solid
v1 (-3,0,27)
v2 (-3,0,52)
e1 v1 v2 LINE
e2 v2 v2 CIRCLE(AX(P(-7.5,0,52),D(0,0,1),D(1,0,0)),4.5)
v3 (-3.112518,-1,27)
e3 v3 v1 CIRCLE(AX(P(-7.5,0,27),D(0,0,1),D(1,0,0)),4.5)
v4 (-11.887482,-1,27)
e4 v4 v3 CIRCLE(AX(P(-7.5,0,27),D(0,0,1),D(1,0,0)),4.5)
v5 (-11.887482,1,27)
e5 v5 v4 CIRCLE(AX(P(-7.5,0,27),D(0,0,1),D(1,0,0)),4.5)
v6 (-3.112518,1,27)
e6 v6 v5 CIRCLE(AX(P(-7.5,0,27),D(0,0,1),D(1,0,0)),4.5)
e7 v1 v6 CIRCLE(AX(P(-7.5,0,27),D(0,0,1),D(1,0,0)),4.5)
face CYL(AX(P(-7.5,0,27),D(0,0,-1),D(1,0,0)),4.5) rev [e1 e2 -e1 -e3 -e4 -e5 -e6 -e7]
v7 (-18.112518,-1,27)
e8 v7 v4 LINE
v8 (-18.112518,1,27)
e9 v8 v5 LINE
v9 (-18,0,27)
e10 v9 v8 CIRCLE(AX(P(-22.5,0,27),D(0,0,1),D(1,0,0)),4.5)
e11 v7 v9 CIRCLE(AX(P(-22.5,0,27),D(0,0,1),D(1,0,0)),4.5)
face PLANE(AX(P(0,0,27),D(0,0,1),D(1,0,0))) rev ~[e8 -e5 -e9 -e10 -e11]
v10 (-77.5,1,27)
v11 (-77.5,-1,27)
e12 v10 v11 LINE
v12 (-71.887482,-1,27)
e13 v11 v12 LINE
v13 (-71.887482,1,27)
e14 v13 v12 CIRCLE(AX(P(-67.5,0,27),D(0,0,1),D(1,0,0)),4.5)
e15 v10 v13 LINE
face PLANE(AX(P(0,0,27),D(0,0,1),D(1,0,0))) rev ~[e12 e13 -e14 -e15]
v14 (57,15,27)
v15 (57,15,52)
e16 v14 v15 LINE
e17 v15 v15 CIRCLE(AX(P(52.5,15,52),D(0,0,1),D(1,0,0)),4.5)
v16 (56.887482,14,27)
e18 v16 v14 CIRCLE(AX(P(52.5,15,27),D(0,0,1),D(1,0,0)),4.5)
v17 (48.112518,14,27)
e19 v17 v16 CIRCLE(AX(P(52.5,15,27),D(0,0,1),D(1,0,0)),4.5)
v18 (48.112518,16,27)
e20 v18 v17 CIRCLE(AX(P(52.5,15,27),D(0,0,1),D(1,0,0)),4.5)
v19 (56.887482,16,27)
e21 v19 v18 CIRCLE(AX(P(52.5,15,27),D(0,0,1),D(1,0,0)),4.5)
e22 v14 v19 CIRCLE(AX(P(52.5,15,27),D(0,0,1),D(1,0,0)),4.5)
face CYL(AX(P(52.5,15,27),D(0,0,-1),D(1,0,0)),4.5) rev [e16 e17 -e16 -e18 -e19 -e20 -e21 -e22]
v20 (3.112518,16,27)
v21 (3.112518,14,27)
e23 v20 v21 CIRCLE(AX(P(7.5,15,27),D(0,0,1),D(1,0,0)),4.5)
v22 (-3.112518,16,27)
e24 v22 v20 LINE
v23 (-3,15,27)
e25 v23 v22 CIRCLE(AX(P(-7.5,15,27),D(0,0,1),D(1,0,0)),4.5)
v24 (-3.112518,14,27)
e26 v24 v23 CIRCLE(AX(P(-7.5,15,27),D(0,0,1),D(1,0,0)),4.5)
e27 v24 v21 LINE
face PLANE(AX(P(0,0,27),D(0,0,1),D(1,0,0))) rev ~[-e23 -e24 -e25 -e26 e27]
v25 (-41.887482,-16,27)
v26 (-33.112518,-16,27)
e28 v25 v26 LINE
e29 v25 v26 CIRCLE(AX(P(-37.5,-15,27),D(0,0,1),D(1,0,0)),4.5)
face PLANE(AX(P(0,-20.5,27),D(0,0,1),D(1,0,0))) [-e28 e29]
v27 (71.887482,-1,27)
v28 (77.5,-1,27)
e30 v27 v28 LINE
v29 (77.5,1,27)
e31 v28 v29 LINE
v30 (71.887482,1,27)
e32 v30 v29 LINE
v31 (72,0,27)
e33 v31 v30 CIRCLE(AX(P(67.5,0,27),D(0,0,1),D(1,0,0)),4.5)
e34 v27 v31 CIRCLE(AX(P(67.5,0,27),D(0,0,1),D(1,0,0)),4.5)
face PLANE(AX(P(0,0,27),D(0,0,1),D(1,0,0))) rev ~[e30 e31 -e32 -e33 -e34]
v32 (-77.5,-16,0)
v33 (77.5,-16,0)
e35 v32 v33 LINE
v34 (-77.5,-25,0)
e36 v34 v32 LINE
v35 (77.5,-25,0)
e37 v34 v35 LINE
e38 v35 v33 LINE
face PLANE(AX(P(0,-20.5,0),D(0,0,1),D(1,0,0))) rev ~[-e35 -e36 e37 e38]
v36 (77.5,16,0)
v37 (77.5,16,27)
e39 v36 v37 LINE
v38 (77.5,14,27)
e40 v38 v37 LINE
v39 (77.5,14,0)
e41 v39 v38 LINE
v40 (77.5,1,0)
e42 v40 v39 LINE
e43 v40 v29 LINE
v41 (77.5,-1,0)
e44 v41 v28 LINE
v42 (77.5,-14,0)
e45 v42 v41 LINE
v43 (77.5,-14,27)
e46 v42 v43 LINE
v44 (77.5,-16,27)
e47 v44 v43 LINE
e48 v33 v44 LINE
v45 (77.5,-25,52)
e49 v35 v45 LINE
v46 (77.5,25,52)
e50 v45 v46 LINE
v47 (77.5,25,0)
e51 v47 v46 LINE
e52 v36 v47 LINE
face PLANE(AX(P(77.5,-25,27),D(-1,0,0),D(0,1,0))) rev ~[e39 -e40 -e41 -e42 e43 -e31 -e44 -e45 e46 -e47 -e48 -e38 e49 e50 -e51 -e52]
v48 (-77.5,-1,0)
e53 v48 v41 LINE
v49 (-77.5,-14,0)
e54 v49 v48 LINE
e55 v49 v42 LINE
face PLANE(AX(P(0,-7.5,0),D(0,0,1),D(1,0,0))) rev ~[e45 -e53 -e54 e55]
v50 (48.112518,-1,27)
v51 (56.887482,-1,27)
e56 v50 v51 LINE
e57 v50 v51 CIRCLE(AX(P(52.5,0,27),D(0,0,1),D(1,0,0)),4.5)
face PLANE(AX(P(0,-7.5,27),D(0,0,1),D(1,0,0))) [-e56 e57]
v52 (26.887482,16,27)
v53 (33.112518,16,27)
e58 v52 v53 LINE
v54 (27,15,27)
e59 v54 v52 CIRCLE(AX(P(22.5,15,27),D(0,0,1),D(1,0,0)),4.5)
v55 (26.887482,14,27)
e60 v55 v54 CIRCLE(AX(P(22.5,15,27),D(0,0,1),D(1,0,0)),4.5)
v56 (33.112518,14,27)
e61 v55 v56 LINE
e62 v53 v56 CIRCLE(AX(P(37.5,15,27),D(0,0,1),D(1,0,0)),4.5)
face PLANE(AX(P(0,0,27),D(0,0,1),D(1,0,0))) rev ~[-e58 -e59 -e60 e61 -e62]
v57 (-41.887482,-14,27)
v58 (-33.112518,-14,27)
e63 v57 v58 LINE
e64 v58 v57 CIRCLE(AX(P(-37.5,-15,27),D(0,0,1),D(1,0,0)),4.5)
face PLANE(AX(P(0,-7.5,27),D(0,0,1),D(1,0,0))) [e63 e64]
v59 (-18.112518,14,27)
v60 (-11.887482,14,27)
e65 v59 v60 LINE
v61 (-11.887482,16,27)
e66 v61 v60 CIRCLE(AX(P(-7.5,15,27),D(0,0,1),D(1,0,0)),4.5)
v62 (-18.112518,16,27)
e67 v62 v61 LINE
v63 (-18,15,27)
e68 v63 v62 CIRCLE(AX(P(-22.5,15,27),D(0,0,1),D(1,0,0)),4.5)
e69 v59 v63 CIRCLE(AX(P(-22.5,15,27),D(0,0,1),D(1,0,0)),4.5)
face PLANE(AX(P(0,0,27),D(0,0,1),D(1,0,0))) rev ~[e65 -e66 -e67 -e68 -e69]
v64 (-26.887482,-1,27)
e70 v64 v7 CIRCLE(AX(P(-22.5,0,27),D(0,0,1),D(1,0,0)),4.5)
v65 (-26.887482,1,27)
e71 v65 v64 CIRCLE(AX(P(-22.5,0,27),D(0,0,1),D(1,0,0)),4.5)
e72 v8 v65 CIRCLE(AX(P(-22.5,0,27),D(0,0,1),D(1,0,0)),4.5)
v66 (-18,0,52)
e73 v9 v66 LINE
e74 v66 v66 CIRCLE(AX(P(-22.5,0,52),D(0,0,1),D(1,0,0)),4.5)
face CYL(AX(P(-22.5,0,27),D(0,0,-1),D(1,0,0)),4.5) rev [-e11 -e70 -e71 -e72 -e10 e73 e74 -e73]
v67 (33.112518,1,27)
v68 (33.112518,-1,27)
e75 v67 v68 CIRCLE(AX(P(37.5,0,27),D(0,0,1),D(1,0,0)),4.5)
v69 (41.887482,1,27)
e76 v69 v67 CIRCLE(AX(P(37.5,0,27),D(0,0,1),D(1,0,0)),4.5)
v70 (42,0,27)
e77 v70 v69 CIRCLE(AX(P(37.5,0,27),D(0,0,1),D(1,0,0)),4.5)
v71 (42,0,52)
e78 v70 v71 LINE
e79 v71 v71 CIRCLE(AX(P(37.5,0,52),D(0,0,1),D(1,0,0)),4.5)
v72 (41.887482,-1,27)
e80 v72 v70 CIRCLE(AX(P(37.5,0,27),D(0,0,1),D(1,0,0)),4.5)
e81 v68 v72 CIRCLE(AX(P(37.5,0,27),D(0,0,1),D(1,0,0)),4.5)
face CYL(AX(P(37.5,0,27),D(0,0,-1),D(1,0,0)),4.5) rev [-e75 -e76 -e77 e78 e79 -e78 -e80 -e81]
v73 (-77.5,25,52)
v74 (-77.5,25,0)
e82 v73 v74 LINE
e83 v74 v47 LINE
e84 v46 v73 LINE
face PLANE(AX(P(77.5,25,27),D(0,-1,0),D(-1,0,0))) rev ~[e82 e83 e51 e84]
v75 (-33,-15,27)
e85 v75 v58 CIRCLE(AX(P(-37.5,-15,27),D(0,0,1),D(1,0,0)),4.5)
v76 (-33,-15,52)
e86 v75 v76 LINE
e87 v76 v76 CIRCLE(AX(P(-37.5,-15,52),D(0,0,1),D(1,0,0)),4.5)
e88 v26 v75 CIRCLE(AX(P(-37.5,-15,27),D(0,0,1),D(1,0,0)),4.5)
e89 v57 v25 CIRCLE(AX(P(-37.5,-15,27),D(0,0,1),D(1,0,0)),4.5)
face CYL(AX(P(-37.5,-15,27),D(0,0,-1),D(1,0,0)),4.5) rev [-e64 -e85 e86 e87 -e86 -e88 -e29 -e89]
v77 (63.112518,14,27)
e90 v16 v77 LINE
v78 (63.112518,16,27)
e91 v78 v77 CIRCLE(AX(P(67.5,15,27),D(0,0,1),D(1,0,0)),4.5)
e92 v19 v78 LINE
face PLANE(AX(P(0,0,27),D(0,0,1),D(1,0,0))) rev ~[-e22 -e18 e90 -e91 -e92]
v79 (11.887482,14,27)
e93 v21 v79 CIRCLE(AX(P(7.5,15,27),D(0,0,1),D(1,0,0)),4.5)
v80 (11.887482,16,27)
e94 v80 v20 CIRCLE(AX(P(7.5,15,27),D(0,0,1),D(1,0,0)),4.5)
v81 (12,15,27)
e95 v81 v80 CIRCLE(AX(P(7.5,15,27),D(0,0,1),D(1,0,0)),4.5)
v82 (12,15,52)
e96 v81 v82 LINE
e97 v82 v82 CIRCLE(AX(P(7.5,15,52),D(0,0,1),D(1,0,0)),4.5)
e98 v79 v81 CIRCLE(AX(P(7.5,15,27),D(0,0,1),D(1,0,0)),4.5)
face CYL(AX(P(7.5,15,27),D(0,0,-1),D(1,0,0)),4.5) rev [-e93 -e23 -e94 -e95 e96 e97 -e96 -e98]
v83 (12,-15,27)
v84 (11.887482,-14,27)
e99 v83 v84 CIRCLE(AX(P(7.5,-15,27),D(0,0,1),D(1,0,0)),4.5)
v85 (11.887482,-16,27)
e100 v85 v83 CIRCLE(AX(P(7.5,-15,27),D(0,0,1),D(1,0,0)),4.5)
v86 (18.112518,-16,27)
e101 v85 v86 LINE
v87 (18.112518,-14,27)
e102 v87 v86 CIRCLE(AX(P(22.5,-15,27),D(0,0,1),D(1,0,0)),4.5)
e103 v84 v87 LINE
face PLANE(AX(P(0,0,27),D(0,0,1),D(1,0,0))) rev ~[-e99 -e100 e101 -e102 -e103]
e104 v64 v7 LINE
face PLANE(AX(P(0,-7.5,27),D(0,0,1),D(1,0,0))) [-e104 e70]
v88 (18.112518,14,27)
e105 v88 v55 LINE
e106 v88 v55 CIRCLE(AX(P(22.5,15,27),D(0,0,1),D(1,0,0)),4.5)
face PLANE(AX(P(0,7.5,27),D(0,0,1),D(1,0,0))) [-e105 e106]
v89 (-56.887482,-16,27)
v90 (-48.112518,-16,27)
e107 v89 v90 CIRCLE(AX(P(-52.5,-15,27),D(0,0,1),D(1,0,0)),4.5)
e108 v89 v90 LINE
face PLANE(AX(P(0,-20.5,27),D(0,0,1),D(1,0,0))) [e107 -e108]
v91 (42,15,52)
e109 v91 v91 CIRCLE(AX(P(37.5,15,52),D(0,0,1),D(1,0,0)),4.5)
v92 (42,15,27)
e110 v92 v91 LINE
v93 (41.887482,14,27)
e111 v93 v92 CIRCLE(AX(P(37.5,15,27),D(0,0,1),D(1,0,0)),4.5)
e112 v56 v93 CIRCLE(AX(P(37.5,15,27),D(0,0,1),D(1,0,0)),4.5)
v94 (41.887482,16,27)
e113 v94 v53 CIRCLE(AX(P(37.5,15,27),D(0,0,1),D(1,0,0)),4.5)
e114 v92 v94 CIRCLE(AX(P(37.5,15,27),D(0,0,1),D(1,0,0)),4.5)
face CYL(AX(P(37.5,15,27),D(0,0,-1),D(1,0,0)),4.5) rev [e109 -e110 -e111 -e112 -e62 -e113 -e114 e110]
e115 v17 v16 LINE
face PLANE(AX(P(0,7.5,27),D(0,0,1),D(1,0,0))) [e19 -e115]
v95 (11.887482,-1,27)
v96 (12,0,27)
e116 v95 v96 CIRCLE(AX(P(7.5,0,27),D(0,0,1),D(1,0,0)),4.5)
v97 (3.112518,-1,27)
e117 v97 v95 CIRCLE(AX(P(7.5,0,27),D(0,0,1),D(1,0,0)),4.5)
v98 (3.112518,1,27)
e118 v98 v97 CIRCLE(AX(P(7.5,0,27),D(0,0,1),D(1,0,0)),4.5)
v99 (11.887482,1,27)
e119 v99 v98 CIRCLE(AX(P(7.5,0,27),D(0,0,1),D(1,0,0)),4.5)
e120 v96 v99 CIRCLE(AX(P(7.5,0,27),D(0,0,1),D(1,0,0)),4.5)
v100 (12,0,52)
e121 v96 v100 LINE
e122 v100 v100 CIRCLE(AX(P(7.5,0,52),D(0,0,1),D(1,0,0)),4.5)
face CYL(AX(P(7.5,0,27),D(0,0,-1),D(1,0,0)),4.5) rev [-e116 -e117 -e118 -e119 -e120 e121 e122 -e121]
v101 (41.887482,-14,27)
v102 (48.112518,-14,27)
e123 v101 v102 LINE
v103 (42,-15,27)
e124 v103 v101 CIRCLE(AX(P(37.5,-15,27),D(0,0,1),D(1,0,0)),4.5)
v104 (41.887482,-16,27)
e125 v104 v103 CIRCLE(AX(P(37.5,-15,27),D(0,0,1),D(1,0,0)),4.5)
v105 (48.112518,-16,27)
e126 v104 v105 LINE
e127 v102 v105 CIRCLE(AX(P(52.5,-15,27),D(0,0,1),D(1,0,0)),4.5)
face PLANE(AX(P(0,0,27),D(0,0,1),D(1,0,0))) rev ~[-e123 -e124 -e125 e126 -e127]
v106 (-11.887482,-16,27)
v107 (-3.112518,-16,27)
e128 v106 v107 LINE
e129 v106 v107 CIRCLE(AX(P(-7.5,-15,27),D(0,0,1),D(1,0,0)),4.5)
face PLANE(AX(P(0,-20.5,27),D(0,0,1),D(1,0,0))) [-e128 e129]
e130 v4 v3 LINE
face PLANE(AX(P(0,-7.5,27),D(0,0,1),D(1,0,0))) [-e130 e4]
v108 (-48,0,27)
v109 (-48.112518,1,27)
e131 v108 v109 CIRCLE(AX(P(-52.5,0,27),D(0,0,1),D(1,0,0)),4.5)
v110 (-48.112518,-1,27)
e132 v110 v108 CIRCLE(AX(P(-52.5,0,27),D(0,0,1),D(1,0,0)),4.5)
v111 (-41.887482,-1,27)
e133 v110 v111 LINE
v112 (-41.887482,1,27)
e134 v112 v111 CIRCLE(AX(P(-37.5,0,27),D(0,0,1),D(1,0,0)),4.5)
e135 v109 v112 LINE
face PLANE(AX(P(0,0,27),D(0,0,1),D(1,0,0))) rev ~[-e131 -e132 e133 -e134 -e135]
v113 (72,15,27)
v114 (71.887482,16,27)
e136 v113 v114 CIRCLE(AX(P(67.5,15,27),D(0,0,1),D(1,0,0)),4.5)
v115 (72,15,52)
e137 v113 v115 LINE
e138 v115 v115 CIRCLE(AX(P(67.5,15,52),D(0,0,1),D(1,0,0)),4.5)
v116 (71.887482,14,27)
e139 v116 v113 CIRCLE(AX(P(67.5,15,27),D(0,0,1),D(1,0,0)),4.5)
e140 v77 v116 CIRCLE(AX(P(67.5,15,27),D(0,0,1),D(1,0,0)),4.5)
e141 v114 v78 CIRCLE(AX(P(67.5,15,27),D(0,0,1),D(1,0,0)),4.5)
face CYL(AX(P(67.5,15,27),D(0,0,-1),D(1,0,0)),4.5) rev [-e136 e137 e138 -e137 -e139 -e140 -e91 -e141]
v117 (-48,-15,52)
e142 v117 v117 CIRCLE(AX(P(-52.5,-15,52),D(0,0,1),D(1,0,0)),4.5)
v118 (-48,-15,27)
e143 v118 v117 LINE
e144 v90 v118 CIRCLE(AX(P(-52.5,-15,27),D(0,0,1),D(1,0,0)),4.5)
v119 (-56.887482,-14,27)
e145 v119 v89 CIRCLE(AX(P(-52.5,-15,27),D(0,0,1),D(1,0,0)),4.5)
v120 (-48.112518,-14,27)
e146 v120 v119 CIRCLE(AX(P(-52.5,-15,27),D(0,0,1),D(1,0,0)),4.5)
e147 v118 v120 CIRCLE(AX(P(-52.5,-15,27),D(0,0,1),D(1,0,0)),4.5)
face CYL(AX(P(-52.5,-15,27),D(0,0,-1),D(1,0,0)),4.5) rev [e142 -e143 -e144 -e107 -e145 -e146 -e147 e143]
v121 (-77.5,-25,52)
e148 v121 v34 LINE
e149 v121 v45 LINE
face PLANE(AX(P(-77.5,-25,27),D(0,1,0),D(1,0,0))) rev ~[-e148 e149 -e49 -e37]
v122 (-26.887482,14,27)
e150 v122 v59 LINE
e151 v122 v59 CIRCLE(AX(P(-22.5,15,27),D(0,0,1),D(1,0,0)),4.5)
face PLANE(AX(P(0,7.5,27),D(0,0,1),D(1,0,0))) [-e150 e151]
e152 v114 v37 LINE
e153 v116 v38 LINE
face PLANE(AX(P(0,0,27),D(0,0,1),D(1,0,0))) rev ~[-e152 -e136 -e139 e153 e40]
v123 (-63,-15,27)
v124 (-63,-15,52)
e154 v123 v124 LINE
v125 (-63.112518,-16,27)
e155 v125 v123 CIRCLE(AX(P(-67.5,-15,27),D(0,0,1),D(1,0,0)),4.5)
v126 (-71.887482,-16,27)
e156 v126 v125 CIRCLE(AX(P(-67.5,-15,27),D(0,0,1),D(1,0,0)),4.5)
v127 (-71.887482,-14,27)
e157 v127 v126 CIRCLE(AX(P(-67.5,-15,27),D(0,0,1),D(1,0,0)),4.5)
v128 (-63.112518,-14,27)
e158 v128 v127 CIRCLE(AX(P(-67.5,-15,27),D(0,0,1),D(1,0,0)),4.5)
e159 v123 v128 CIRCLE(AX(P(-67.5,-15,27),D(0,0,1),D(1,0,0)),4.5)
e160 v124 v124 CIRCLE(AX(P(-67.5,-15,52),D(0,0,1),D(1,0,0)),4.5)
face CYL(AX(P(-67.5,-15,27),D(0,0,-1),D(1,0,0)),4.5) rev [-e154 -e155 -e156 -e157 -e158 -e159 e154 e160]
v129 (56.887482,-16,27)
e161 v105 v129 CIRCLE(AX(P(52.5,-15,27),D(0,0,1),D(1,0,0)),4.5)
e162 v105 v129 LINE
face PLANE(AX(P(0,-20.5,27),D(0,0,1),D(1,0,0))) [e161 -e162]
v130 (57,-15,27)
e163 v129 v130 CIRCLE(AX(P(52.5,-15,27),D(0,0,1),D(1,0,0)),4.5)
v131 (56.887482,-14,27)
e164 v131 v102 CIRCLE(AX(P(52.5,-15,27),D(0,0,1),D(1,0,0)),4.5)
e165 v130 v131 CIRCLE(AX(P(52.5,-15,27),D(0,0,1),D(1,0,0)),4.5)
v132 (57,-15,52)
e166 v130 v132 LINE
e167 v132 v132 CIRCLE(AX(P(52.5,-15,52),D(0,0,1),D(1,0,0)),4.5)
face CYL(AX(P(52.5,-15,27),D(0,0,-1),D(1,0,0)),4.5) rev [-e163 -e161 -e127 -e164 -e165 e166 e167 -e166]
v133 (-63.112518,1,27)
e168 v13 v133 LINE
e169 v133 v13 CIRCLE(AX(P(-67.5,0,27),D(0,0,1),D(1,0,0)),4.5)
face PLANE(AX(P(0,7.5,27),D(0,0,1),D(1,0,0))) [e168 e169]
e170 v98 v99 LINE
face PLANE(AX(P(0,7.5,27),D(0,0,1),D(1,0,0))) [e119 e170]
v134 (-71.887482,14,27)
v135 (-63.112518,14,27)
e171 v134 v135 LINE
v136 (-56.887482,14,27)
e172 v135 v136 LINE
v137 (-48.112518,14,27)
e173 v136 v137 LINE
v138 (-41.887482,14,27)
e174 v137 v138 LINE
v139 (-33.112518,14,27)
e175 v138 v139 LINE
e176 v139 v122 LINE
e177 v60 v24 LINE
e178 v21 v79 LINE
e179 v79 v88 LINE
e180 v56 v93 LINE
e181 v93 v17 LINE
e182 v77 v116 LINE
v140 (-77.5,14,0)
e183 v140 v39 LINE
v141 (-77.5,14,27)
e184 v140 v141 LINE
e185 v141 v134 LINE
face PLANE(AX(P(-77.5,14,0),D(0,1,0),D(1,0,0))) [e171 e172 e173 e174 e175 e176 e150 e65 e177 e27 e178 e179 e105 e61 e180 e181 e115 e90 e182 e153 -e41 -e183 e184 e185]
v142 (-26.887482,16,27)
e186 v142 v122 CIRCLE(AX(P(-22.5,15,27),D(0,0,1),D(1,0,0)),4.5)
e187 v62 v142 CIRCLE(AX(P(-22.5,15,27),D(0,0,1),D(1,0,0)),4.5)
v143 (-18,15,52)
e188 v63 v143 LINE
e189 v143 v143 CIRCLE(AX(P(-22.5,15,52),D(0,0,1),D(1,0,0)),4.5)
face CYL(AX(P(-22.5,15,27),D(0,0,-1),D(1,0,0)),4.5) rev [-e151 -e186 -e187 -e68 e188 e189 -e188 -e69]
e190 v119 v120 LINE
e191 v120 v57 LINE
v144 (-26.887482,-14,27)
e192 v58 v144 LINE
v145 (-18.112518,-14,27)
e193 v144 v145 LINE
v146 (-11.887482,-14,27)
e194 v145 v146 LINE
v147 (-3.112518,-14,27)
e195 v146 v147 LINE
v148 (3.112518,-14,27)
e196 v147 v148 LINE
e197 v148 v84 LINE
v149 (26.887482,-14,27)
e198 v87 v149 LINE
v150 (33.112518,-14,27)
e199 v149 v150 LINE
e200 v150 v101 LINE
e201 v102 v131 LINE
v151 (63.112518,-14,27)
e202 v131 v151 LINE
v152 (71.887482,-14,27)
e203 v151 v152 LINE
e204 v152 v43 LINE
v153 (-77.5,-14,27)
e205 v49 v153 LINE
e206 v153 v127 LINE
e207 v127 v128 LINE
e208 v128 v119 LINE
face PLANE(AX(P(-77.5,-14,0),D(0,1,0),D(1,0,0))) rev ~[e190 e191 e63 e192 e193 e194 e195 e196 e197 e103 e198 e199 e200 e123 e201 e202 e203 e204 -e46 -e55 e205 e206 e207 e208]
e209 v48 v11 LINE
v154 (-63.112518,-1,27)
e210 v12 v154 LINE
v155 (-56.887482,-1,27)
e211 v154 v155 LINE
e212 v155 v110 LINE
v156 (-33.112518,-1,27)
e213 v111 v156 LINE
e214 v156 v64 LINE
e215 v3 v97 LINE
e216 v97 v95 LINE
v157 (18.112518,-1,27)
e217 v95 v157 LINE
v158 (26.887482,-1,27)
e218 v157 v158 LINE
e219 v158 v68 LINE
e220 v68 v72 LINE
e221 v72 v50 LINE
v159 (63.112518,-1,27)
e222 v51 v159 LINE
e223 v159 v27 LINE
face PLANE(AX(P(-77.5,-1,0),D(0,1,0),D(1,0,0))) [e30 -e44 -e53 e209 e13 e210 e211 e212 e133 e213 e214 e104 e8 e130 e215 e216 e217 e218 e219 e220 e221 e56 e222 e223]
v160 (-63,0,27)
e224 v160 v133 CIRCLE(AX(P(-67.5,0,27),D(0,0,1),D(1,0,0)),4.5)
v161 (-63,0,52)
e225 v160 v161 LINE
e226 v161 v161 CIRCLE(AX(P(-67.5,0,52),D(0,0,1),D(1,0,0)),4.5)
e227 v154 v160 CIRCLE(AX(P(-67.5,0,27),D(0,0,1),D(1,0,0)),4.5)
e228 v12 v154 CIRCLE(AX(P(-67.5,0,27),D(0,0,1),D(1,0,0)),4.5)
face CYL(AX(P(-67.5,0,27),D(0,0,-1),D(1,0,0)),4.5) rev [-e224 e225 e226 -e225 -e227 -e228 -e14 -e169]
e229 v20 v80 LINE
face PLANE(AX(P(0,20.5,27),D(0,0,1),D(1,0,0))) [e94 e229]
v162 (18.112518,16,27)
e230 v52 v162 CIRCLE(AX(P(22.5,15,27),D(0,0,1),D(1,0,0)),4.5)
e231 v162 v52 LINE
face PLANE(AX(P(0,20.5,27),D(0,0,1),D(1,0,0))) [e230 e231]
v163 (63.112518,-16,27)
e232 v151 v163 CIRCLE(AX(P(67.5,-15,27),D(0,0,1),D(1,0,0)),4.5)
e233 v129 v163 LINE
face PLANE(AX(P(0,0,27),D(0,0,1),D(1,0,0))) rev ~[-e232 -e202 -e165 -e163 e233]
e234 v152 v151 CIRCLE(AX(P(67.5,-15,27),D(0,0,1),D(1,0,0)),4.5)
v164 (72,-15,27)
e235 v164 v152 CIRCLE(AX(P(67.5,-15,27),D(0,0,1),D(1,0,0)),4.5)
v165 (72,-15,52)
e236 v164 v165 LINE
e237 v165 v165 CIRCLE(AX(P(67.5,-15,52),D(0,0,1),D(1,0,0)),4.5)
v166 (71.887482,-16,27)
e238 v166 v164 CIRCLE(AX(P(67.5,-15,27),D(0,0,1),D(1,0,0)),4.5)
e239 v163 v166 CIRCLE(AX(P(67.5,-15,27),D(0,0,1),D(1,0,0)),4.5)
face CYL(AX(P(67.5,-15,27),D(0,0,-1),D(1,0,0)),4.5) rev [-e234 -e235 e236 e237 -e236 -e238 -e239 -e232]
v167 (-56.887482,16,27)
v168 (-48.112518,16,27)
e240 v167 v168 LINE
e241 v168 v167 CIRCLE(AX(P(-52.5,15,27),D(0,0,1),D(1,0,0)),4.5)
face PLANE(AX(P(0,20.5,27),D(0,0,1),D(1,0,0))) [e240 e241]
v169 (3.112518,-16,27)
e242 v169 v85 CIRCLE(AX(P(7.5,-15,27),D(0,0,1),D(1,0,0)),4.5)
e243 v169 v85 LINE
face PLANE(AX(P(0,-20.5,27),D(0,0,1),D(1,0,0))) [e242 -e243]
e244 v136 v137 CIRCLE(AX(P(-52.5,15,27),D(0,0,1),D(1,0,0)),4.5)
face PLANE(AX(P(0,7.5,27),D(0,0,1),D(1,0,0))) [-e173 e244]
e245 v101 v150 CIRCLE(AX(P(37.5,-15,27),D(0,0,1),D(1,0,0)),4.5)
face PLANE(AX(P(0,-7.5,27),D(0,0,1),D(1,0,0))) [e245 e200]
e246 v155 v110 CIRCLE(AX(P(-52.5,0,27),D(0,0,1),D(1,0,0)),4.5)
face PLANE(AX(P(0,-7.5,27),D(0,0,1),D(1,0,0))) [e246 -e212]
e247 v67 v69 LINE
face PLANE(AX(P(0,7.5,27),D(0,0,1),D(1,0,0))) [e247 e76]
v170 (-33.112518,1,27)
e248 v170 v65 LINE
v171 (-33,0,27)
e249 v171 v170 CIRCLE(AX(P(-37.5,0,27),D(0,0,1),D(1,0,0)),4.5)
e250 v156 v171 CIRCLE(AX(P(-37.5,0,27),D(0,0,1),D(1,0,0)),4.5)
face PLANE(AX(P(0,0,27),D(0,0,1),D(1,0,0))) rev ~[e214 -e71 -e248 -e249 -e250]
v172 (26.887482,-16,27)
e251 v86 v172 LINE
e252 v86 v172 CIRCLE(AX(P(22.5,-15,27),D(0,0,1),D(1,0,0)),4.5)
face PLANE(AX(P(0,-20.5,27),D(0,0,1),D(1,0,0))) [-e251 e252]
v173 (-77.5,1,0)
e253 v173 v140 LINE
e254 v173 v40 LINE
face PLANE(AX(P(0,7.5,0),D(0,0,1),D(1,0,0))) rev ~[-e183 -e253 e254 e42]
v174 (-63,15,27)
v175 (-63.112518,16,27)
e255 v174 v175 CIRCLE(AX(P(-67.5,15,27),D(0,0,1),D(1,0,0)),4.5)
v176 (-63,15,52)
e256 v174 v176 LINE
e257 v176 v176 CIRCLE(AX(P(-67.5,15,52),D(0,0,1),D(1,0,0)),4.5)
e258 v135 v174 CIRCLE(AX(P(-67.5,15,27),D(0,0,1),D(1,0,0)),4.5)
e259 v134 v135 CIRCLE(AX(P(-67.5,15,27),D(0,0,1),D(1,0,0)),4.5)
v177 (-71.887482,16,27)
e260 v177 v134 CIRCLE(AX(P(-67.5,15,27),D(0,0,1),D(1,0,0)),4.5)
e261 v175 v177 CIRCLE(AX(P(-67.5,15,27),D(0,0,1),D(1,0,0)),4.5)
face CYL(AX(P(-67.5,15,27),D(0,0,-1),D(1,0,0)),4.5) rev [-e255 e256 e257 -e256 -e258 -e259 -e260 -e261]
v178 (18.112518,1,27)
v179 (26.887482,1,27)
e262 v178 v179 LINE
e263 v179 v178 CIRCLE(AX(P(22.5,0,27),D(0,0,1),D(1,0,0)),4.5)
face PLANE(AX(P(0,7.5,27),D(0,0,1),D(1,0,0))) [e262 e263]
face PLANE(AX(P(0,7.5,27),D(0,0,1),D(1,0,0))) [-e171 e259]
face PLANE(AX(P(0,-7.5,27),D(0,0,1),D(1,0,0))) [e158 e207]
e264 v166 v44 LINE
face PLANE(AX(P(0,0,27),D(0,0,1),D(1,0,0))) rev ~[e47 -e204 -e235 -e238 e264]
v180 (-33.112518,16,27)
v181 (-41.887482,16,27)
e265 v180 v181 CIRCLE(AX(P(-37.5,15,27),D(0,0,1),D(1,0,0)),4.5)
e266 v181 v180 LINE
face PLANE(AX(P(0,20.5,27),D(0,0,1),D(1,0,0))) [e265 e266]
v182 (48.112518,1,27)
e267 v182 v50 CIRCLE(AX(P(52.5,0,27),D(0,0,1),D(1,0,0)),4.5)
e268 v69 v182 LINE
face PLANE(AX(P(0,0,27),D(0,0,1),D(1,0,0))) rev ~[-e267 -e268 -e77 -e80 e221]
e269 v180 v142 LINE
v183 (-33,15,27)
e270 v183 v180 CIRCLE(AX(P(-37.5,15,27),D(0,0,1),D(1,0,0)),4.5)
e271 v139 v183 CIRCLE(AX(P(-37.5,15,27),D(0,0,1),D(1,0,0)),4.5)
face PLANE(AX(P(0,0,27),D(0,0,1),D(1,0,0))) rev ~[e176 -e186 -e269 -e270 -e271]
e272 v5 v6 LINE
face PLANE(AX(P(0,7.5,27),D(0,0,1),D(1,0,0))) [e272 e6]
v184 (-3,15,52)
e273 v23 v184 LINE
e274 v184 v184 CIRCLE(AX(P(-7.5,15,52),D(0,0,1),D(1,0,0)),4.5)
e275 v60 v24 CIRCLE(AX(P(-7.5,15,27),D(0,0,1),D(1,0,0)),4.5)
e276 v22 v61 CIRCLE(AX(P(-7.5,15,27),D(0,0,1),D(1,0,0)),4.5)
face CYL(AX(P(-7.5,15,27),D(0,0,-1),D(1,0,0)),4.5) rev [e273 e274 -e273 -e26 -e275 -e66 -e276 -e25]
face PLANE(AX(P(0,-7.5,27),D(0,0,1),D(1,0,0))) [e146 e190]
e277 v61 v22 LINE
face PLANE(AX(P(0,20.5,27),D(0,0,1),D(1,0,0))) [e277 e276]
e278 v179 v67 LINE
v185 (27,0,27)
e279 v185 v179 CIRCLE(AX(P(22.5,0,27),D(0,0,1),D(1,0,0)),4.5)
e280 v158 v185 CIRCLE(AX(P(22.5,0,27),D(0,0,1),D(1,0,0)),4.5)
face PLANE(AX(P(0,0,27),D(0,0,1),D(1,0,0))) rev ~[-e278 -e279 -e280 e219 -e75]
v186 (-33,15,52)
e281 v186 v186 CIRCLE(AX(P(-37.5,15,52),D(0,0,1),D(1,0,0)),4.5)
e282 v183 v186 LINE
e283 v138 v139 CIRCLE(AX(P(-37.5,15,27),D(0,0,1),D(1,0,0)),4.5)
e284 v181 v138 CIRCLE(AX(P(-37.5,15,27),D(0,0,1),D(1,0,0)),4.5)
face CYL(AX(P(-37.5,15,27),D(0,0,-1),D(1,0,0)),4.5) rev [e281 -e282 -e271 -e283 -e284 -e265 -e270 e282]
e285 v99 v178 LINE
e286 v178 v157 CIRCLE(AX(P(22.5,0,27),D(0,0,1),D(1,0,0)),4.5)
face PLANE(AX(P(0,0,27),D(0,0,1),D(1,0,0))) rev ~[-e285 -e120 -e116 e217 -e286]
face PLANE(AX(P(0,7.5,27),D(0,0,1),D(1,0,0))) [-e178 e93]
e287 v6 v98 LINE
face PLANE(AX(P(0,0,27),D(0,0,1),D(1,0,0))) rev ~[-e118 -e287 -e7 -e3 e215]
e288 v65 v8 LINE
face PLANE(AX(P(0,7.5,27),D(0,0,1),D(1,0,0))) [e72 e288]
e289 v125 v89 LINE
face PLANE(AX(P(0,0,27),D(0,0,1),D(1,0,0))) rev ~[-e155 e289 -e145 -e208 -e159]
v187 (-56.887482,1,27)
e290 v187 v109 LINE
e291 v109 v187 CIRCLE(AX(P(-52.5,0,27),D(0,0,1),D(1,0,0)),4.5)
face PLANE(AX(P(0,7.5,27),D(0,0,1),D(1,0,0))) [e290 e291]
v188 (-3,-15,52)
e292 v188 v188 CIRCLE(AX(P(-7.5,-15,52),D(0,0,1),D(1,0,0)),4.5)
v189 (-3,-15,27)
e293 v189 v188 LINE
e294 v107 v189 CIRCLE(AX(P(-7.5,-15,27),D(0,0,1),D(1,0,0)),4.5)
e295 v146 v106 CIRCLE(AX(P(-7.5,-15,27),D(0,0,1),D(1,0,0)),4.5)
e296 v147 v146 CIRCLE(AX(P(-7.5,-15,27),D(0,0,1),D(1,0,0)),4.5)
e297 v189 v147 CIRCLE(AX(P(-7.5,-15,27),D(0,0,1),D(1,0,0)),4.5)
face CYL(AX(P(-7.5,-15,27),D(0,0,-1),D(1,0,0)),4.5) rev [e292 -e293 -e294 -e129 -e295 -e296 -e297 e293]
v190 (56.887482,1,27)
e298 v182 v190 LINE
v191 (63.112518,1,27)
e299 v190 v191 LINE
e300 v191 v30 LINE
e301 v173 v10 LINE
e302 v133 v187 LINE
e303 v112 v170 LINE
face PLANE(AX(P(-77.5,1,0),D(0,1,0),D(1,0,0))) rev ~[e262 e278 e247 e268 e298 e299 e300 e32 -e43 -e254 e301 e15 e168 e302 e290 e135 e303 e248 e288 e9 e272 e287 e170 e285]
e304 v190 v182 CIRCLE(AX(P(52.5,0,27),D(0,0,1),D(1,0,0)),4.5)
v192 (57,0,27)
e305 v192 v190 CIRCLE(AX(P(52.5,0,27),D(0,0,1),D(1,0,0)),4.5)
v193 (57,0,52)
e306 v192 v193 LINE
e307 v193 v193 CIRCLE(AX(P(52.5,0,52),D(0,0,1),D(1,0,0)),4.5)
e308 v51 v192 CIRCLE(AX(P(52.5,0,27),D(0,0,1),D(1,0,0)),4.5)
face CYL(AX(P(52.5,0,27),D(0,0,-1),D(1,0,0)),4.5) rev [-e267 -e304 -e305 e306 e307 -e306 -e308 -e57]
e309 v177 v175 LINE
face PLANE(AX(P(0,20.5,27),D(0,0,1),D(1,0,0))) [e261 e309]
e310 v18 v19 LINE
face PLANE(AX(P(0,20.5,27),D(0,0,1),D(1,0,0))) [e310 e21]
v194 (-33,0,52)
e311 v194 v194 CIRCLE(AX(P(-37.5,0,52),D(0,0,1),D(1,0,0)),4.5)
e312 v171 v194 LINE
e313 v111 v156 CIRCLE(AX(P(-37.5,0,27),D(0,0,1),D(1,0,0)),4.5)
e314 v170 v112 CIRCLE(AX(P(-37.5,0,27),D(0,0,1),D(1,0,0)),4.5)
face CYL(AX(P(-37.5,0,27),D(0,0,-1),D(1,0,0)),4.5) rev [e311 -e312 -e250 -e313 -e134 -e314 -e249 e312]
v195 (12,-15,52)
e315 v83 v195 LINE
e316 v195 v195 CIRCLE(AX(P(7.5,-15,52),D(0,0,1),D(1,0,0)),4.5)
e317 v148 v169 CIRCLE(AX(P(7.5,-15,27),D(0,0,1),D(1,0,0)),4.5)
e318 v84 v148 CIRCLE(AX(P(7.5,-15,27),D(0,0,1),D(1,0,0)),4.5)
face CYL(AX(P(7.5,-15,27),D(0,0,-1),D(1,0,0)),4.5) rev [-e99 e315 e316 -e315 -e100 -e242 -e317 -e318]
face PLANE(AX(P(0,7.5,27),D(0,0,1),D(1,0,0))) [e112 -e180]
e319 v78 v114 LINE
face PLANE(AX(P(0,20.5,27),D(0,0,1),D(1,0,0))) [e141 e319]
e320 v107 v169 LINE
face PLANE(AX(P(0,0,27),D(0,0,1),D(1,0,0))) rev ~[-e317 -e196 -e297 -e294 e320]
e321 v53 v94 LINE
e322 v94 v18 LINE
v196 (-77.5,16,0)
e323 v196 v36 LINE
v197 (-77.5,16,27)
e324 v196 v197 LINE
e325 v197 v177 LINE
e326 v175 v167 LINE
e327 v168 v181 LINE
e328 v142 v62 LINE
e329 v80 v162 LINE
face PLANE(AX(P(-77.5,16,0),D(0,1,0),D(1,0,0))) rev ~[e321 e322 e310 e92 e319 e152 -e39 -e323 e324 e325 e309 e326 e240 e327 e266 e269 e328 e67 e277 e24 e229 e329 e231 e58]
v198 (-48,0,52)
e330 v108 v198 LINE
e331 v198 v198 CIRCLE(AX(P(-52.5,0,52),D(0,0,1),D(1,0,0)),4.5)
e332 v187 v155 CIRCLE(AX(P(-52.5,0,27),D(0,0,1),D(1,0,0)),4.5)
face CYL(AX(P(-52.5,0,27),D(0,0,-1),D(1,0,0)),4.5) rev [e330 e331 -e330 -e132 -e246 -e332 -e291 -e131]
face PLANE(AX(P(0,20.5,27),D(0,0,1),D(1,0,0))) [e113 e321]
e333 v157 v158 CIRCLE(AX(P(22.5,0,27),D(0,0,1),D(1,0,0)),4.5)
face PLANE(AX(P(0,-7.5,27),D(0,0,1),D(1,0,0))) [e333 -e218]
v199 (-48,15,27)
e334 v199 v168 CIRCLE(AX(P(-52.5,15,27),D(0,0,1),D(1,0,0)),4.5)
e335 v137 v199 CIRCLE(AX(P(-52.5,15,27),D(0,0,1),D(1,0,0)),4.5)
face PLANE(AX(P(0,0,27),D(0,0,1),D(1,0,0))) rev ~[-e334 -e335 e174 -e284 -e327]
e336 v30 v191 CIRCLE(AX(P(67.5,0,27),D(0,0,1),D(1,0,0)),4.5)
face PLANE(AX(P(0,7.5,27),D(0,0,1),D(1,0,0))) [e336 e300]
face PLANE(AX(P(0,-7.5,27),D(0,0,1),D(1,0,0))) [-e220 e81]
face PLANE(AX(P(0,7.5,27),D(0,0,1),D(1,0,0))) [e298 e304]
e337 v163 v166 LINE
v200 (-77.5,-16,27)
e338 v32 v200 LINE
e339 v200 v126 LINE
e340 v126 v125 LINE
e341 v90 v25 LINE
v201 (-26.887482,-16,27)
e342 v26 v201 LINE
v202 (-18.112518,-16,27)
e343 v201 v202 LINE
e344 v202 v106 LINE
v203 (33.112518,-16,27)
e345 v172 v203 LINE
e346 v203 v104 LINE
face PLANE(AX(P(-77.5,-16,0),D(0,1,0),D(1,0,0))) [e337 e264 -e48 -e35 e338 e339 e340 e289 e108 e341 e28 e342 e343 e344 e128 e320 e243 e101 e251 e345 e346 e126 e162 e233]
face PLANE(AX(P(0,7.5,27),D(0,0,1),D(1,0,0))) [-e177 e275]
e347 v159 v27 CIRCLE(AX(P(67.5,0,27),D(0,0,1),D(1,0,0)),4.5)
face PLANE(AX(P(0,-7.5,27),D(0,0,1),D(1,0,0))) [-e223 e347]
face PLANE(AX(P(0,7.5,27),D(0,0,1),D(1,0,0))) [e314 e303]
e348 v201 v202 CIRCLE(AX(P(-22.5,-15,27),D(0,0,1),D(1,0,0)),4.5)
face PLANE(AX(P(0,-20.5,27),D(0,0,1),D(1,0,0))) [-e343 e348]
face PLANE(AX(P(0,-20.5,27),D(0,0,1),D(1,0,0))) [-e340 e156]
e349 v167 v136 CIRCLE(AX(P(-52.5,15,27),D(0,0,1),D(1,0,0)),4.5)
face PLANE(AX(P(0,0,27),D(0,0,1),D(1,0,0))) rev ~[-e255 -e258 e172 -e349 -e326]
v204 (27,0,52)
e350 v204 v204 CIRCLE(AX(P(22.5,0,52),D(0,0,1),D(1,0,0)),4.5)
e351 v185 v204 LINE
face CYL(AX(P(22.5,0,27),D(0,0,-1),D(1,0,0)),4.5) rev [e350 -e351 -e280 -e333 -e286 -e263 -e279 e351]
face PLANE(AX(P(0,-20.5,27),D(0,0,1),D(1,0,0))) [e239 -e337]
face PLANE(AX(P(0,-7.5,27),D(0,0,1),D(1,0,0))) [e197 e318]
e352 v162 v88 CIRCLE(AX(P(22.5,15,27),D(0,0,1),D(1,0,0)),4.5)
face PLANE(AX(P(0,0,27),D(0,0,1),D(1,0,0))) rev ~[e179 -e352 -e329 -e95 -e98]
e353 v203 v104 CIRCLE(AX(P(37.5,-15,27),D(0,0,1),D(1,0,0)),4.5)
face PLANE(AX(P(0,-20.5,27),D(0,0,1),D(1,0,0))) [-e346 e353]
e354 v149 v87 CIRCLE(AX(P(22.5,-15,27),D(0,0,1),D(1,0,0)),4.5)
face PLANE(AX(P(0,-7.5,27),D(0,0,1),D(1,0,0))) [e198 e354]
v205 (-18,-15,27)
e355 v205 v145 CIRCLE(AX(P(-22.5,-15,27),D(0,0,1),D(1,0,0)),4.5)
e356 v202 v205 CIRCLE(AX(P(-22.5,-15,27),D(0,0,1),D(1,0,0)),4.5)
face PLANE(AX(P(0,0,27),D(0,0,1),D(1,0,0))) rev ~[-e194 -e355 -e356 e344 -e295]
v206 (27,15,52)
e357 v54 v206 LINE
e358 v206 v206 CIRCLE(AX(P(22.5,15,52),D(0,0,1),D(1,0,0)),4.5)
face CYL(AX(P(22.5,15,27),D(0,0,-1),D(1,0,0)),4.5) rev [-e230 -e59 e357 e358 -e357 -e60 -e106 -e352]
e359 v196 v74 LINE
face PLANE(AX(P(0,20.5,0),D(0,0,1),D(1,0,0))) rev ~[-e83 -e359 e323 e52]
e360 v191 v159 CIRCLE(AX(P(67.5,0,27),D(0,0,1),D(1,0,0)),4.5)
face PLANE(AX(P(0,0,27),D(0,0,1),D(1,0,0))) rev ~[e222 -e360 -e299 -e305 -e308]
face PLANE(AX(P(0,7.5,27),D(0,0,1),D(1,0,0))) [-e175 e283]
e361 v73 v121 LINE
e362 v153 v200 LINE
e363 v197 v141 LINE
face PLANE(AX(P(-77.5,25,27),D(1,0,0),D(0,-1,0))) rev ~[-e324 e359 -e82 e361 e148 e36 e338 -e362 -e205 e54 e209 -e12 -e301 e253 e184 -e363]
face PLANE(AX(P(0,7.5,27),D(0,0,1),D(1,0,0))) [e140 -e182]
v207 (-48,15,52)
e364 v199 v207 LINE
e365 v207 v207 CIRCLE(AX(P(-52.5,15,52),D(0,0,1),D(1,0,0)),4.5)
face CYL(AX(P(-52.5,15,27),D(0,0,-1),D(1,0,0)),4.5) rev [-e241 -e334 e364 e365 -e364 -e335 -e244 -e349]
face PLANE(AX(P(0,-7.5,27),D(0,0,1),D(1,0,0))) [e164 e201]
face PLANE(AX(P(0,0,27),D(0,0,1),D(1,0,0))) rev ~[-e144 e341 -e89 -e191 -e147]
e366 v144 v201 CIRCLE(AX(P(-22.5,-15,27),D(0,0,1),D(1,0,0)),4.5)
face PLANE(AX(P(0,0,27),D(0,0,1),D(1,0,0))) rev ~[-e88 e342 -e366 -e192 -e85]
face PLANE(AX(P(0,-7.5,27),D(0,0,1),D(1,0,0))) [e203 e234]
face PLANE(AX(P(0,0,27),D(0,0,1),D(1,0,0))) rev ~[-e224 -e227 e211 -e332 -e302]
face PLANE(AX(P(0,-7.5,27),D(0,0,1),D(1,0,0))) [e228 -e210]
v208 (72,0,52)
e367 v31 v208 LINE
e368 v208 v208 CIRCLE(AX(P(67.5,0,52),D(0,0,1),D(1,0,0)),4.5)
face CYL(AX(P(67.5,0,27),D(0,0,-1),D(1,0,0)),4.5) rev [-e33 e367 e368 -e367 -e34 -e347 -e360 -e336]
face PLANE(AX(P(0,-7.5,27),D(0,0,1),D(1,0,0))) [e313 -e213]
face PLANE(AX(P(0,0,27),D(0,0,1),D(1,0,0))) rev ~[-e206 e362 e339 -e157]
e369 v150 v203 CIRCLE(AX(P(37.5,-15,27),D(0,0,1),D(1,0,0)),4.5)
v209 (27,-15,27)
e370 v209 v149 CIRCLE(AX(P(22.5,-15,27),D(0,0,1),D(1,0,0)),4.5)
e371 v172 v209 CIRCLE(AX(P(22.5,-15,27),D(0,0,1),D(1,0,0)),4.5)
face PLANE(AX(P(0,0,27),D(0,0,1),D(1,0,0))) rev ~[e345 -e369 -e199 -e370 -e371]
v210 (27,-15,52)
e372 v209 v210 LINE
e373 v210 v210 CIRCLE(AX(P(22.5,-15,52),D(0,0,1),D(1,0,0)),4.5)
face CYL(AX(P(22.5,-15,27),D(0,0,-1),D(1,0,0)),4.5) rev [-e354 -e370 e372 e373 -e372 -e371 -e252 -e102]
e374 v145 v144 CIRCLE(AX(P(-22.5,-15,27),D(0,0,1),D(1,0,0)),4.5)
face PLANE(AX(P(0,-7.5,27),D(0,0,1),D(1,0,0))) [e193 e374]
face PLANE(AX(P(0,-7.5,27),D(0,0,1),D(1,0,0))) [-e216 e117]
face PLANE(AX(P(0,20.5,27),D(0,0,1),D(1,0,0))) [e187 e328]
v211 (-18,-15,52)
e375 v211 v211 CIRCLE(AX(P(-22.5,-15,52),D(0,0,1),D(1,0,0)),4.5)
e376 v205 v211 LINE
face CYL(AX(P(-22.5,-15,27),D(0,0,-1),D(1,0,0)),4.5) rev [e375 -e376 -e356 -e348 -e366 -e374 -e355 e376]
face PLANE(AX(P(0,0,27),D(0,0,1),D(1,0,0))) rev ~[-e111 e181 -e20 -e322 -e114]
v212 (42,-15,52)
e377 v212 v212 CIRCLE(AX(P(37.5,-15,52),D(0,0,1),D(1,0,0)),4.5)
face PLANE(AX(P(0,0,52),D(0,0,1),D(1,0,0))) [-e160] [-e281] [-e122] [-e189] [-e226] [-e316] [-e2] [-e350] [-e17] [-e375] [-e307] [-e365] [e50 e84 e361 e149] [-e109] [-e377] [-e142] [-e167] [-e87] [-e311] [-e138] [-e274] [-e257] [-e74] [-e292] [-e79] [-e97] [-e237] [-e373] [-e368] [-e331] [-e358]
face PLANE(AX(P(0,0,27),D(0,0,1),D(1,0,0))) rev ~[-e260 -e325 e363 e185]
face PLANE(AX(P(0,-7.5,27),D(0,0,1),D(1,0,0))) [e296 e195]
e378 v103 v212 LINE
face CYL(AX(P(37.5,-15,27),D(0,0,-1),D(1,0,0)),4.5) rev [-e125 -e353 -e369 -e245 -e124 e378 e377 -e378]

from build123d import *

# Parameters (mm, degrees)
F0_W     = 155
F0_H     = 9
F1_DEPTH = 27
F0_H_2   = 13
F2_R     = 4.5
F3_DEPTH = 25


with BuildPart() as f1:
    # F0 (on Top) → F1 (new body)
    with BuildSketch(Plane.XY):
        with Locations((0, 20.5)):
            Rectangle(F0_W, F0_H)
    extrude(amount=F1_DEPTH)



with BuildPart() as f1b:
    # F0 (on Top) → F1, piece 2 (new body)
    with BuildSketch(Plane.XY):
        with Locations((0, -20.5)):
            Rectangle(F0_W, F0_H)
    extrude(amount=F1_DEPTH)


with BuildPart() as f1c:
    # F0 (on Top) → F1, piece 3 (new body)
    with BuildSketch(Plane.XY):
        with Locations((0, 7.5)):
            Rectangle(F0_W, F0_H_2)
    extrude(amount=F1_DEPTH)


with BuildPart() as f1d:
    # F0 (on Top) → F1, piece 4 (new body)
    with BuildSketch(Plane.XY):
        with Locations((0, -7.5)):
            Rectangle(F0_W, F0_H_2)
    extrude(amount=F1_DEPTH)


with BuildPart() as f1_1:
    add(f1.part)

    add(f1b.part)  # F3 merges F1b

    add(f1c.part)  # F3 merges F1c

    add(f1d.part)  # F3 merges F1d
    # F2 (on face) → F3 (join)
    with BuildSketch(Plane.XY.offset(27)):
        Polygon((-77.5, -16), (-77.5, -25), (77.5, -25), (77.5, -16), (77.5, -14), (77.5, -1), (77.5, 1), (77.5, 14), (77.5, 16), (77.5, 25), (-77.5, 25), (-77.5, 16), (-77.5, 14), (-77.5, 1), (-77.5, -1), (-77.5, -14), align=None)
        with Locations((-67.5, -15)):
            Circle(F2_R, mode=Mode.SUBTRACT)
        with Locations((-52.5, -15)):
            Circle(F2_R, mode=Mode.SUBTRACT)
        with Locations((-37.5, -15)):
            Circle(F2_R, mode=Mode.SUBTRACT)
        with Locations((-22.5, -15)):
            Circle(F2_R, mode=Mode.SUBTRACT)
        with Locations((-7.5, -15)):
            Circle(F2_R, mode=Mode.SUBTRACT)
        with Locations((7.5, -15)):
            Circle(F2_R, mode=Mode.SUBTRACT)
        with Locations((22.5, -15)):
            Circle(F2_R, mode=Mode.SUBTRACT)
        with Locations((37.5, -15)):
            Circle(F2_R, mode=Mode.SUBTRACT)
        with Locations((52.5, -15)):
            Circle(F2_R, mode=Mode.SUBTRACT)
        with Locations((67.5, -15)):
            Circle(F2_R, mode=Mode.SUBTRACT)
        with Locations((-67.5, 0)):
            Circle(F2_R, mode=Mode.SUBTRACT)
        with Locations((-52.5, 0)):
            Circle(F2_R, mode=Mode.SUBTRACT)
        with Locations((-37.5, 0)):
            Circle(F2_R, mode=Mode.SUBTRACT)
        with Locations((-22.5, 0)):
            Circle(F2_R, mode=Mode.SUBTRACT)
        with Locations((-7.5, 0)):
            Circle(F2_R, mode=Mode.SUBTRACT)
        with Locations((-67.5, 15)):
            Circle(F2_R, mode=Mode.SUBTRACT)
        with Locations((-52.5, 15)):
            Circle(F2_R, mode=Mode.SUBTRACT)
        with Locations((-37.5, 15)):
            Circle(F2_R, mode=Mode.SUBTRACT)
        with Locations((-22.5, 15)):
            Circle(F2_R, mode=Mode.SUBTRACT)
        with Locations((-7.5, 15)):
            Circle(F2_R, mode=Mode.SUBTRACT)
        with Locations((7.5, 0)):
            Circle(F2_R, mode=Mode.SUBTRACT)
        with Locations((22.5, 0)):
            Circle(F2_R, mode=Mode.SUBTRACT)
        with Locations((37.5, 0)):
            Circle(F2_R, mode=Mode.SUBTRACT)
        with Locations((52.5, 0)):
            Circle(F2_R, mode=Mode.SUBTRACT)
        with Locations((67.5, 0)):
            Circle(F2_R, mode=Mode.SUBTRACT)
        with Locations((7.5, 15)):
            Circle(F2_R, mode=Mode.SUBTRACT)
        with Locations((22.5, 15)):
            Circle(F2_R, mode=Mode.SUBTRACT)
        with Locations((37.5, 15)):
            Circle(F2_R, mode=Mode.SUBTRACT)
        with Locations((52.5, 15)):
            Circle(F2_R, mode=Mode.SUBTRACT)
        with Locations((67.5, 15)):
            Circle(F2_R, mode=Mode.SUBTRACT)
    extrude(amount=F3_DEPTH)


solid = f1_1.part
